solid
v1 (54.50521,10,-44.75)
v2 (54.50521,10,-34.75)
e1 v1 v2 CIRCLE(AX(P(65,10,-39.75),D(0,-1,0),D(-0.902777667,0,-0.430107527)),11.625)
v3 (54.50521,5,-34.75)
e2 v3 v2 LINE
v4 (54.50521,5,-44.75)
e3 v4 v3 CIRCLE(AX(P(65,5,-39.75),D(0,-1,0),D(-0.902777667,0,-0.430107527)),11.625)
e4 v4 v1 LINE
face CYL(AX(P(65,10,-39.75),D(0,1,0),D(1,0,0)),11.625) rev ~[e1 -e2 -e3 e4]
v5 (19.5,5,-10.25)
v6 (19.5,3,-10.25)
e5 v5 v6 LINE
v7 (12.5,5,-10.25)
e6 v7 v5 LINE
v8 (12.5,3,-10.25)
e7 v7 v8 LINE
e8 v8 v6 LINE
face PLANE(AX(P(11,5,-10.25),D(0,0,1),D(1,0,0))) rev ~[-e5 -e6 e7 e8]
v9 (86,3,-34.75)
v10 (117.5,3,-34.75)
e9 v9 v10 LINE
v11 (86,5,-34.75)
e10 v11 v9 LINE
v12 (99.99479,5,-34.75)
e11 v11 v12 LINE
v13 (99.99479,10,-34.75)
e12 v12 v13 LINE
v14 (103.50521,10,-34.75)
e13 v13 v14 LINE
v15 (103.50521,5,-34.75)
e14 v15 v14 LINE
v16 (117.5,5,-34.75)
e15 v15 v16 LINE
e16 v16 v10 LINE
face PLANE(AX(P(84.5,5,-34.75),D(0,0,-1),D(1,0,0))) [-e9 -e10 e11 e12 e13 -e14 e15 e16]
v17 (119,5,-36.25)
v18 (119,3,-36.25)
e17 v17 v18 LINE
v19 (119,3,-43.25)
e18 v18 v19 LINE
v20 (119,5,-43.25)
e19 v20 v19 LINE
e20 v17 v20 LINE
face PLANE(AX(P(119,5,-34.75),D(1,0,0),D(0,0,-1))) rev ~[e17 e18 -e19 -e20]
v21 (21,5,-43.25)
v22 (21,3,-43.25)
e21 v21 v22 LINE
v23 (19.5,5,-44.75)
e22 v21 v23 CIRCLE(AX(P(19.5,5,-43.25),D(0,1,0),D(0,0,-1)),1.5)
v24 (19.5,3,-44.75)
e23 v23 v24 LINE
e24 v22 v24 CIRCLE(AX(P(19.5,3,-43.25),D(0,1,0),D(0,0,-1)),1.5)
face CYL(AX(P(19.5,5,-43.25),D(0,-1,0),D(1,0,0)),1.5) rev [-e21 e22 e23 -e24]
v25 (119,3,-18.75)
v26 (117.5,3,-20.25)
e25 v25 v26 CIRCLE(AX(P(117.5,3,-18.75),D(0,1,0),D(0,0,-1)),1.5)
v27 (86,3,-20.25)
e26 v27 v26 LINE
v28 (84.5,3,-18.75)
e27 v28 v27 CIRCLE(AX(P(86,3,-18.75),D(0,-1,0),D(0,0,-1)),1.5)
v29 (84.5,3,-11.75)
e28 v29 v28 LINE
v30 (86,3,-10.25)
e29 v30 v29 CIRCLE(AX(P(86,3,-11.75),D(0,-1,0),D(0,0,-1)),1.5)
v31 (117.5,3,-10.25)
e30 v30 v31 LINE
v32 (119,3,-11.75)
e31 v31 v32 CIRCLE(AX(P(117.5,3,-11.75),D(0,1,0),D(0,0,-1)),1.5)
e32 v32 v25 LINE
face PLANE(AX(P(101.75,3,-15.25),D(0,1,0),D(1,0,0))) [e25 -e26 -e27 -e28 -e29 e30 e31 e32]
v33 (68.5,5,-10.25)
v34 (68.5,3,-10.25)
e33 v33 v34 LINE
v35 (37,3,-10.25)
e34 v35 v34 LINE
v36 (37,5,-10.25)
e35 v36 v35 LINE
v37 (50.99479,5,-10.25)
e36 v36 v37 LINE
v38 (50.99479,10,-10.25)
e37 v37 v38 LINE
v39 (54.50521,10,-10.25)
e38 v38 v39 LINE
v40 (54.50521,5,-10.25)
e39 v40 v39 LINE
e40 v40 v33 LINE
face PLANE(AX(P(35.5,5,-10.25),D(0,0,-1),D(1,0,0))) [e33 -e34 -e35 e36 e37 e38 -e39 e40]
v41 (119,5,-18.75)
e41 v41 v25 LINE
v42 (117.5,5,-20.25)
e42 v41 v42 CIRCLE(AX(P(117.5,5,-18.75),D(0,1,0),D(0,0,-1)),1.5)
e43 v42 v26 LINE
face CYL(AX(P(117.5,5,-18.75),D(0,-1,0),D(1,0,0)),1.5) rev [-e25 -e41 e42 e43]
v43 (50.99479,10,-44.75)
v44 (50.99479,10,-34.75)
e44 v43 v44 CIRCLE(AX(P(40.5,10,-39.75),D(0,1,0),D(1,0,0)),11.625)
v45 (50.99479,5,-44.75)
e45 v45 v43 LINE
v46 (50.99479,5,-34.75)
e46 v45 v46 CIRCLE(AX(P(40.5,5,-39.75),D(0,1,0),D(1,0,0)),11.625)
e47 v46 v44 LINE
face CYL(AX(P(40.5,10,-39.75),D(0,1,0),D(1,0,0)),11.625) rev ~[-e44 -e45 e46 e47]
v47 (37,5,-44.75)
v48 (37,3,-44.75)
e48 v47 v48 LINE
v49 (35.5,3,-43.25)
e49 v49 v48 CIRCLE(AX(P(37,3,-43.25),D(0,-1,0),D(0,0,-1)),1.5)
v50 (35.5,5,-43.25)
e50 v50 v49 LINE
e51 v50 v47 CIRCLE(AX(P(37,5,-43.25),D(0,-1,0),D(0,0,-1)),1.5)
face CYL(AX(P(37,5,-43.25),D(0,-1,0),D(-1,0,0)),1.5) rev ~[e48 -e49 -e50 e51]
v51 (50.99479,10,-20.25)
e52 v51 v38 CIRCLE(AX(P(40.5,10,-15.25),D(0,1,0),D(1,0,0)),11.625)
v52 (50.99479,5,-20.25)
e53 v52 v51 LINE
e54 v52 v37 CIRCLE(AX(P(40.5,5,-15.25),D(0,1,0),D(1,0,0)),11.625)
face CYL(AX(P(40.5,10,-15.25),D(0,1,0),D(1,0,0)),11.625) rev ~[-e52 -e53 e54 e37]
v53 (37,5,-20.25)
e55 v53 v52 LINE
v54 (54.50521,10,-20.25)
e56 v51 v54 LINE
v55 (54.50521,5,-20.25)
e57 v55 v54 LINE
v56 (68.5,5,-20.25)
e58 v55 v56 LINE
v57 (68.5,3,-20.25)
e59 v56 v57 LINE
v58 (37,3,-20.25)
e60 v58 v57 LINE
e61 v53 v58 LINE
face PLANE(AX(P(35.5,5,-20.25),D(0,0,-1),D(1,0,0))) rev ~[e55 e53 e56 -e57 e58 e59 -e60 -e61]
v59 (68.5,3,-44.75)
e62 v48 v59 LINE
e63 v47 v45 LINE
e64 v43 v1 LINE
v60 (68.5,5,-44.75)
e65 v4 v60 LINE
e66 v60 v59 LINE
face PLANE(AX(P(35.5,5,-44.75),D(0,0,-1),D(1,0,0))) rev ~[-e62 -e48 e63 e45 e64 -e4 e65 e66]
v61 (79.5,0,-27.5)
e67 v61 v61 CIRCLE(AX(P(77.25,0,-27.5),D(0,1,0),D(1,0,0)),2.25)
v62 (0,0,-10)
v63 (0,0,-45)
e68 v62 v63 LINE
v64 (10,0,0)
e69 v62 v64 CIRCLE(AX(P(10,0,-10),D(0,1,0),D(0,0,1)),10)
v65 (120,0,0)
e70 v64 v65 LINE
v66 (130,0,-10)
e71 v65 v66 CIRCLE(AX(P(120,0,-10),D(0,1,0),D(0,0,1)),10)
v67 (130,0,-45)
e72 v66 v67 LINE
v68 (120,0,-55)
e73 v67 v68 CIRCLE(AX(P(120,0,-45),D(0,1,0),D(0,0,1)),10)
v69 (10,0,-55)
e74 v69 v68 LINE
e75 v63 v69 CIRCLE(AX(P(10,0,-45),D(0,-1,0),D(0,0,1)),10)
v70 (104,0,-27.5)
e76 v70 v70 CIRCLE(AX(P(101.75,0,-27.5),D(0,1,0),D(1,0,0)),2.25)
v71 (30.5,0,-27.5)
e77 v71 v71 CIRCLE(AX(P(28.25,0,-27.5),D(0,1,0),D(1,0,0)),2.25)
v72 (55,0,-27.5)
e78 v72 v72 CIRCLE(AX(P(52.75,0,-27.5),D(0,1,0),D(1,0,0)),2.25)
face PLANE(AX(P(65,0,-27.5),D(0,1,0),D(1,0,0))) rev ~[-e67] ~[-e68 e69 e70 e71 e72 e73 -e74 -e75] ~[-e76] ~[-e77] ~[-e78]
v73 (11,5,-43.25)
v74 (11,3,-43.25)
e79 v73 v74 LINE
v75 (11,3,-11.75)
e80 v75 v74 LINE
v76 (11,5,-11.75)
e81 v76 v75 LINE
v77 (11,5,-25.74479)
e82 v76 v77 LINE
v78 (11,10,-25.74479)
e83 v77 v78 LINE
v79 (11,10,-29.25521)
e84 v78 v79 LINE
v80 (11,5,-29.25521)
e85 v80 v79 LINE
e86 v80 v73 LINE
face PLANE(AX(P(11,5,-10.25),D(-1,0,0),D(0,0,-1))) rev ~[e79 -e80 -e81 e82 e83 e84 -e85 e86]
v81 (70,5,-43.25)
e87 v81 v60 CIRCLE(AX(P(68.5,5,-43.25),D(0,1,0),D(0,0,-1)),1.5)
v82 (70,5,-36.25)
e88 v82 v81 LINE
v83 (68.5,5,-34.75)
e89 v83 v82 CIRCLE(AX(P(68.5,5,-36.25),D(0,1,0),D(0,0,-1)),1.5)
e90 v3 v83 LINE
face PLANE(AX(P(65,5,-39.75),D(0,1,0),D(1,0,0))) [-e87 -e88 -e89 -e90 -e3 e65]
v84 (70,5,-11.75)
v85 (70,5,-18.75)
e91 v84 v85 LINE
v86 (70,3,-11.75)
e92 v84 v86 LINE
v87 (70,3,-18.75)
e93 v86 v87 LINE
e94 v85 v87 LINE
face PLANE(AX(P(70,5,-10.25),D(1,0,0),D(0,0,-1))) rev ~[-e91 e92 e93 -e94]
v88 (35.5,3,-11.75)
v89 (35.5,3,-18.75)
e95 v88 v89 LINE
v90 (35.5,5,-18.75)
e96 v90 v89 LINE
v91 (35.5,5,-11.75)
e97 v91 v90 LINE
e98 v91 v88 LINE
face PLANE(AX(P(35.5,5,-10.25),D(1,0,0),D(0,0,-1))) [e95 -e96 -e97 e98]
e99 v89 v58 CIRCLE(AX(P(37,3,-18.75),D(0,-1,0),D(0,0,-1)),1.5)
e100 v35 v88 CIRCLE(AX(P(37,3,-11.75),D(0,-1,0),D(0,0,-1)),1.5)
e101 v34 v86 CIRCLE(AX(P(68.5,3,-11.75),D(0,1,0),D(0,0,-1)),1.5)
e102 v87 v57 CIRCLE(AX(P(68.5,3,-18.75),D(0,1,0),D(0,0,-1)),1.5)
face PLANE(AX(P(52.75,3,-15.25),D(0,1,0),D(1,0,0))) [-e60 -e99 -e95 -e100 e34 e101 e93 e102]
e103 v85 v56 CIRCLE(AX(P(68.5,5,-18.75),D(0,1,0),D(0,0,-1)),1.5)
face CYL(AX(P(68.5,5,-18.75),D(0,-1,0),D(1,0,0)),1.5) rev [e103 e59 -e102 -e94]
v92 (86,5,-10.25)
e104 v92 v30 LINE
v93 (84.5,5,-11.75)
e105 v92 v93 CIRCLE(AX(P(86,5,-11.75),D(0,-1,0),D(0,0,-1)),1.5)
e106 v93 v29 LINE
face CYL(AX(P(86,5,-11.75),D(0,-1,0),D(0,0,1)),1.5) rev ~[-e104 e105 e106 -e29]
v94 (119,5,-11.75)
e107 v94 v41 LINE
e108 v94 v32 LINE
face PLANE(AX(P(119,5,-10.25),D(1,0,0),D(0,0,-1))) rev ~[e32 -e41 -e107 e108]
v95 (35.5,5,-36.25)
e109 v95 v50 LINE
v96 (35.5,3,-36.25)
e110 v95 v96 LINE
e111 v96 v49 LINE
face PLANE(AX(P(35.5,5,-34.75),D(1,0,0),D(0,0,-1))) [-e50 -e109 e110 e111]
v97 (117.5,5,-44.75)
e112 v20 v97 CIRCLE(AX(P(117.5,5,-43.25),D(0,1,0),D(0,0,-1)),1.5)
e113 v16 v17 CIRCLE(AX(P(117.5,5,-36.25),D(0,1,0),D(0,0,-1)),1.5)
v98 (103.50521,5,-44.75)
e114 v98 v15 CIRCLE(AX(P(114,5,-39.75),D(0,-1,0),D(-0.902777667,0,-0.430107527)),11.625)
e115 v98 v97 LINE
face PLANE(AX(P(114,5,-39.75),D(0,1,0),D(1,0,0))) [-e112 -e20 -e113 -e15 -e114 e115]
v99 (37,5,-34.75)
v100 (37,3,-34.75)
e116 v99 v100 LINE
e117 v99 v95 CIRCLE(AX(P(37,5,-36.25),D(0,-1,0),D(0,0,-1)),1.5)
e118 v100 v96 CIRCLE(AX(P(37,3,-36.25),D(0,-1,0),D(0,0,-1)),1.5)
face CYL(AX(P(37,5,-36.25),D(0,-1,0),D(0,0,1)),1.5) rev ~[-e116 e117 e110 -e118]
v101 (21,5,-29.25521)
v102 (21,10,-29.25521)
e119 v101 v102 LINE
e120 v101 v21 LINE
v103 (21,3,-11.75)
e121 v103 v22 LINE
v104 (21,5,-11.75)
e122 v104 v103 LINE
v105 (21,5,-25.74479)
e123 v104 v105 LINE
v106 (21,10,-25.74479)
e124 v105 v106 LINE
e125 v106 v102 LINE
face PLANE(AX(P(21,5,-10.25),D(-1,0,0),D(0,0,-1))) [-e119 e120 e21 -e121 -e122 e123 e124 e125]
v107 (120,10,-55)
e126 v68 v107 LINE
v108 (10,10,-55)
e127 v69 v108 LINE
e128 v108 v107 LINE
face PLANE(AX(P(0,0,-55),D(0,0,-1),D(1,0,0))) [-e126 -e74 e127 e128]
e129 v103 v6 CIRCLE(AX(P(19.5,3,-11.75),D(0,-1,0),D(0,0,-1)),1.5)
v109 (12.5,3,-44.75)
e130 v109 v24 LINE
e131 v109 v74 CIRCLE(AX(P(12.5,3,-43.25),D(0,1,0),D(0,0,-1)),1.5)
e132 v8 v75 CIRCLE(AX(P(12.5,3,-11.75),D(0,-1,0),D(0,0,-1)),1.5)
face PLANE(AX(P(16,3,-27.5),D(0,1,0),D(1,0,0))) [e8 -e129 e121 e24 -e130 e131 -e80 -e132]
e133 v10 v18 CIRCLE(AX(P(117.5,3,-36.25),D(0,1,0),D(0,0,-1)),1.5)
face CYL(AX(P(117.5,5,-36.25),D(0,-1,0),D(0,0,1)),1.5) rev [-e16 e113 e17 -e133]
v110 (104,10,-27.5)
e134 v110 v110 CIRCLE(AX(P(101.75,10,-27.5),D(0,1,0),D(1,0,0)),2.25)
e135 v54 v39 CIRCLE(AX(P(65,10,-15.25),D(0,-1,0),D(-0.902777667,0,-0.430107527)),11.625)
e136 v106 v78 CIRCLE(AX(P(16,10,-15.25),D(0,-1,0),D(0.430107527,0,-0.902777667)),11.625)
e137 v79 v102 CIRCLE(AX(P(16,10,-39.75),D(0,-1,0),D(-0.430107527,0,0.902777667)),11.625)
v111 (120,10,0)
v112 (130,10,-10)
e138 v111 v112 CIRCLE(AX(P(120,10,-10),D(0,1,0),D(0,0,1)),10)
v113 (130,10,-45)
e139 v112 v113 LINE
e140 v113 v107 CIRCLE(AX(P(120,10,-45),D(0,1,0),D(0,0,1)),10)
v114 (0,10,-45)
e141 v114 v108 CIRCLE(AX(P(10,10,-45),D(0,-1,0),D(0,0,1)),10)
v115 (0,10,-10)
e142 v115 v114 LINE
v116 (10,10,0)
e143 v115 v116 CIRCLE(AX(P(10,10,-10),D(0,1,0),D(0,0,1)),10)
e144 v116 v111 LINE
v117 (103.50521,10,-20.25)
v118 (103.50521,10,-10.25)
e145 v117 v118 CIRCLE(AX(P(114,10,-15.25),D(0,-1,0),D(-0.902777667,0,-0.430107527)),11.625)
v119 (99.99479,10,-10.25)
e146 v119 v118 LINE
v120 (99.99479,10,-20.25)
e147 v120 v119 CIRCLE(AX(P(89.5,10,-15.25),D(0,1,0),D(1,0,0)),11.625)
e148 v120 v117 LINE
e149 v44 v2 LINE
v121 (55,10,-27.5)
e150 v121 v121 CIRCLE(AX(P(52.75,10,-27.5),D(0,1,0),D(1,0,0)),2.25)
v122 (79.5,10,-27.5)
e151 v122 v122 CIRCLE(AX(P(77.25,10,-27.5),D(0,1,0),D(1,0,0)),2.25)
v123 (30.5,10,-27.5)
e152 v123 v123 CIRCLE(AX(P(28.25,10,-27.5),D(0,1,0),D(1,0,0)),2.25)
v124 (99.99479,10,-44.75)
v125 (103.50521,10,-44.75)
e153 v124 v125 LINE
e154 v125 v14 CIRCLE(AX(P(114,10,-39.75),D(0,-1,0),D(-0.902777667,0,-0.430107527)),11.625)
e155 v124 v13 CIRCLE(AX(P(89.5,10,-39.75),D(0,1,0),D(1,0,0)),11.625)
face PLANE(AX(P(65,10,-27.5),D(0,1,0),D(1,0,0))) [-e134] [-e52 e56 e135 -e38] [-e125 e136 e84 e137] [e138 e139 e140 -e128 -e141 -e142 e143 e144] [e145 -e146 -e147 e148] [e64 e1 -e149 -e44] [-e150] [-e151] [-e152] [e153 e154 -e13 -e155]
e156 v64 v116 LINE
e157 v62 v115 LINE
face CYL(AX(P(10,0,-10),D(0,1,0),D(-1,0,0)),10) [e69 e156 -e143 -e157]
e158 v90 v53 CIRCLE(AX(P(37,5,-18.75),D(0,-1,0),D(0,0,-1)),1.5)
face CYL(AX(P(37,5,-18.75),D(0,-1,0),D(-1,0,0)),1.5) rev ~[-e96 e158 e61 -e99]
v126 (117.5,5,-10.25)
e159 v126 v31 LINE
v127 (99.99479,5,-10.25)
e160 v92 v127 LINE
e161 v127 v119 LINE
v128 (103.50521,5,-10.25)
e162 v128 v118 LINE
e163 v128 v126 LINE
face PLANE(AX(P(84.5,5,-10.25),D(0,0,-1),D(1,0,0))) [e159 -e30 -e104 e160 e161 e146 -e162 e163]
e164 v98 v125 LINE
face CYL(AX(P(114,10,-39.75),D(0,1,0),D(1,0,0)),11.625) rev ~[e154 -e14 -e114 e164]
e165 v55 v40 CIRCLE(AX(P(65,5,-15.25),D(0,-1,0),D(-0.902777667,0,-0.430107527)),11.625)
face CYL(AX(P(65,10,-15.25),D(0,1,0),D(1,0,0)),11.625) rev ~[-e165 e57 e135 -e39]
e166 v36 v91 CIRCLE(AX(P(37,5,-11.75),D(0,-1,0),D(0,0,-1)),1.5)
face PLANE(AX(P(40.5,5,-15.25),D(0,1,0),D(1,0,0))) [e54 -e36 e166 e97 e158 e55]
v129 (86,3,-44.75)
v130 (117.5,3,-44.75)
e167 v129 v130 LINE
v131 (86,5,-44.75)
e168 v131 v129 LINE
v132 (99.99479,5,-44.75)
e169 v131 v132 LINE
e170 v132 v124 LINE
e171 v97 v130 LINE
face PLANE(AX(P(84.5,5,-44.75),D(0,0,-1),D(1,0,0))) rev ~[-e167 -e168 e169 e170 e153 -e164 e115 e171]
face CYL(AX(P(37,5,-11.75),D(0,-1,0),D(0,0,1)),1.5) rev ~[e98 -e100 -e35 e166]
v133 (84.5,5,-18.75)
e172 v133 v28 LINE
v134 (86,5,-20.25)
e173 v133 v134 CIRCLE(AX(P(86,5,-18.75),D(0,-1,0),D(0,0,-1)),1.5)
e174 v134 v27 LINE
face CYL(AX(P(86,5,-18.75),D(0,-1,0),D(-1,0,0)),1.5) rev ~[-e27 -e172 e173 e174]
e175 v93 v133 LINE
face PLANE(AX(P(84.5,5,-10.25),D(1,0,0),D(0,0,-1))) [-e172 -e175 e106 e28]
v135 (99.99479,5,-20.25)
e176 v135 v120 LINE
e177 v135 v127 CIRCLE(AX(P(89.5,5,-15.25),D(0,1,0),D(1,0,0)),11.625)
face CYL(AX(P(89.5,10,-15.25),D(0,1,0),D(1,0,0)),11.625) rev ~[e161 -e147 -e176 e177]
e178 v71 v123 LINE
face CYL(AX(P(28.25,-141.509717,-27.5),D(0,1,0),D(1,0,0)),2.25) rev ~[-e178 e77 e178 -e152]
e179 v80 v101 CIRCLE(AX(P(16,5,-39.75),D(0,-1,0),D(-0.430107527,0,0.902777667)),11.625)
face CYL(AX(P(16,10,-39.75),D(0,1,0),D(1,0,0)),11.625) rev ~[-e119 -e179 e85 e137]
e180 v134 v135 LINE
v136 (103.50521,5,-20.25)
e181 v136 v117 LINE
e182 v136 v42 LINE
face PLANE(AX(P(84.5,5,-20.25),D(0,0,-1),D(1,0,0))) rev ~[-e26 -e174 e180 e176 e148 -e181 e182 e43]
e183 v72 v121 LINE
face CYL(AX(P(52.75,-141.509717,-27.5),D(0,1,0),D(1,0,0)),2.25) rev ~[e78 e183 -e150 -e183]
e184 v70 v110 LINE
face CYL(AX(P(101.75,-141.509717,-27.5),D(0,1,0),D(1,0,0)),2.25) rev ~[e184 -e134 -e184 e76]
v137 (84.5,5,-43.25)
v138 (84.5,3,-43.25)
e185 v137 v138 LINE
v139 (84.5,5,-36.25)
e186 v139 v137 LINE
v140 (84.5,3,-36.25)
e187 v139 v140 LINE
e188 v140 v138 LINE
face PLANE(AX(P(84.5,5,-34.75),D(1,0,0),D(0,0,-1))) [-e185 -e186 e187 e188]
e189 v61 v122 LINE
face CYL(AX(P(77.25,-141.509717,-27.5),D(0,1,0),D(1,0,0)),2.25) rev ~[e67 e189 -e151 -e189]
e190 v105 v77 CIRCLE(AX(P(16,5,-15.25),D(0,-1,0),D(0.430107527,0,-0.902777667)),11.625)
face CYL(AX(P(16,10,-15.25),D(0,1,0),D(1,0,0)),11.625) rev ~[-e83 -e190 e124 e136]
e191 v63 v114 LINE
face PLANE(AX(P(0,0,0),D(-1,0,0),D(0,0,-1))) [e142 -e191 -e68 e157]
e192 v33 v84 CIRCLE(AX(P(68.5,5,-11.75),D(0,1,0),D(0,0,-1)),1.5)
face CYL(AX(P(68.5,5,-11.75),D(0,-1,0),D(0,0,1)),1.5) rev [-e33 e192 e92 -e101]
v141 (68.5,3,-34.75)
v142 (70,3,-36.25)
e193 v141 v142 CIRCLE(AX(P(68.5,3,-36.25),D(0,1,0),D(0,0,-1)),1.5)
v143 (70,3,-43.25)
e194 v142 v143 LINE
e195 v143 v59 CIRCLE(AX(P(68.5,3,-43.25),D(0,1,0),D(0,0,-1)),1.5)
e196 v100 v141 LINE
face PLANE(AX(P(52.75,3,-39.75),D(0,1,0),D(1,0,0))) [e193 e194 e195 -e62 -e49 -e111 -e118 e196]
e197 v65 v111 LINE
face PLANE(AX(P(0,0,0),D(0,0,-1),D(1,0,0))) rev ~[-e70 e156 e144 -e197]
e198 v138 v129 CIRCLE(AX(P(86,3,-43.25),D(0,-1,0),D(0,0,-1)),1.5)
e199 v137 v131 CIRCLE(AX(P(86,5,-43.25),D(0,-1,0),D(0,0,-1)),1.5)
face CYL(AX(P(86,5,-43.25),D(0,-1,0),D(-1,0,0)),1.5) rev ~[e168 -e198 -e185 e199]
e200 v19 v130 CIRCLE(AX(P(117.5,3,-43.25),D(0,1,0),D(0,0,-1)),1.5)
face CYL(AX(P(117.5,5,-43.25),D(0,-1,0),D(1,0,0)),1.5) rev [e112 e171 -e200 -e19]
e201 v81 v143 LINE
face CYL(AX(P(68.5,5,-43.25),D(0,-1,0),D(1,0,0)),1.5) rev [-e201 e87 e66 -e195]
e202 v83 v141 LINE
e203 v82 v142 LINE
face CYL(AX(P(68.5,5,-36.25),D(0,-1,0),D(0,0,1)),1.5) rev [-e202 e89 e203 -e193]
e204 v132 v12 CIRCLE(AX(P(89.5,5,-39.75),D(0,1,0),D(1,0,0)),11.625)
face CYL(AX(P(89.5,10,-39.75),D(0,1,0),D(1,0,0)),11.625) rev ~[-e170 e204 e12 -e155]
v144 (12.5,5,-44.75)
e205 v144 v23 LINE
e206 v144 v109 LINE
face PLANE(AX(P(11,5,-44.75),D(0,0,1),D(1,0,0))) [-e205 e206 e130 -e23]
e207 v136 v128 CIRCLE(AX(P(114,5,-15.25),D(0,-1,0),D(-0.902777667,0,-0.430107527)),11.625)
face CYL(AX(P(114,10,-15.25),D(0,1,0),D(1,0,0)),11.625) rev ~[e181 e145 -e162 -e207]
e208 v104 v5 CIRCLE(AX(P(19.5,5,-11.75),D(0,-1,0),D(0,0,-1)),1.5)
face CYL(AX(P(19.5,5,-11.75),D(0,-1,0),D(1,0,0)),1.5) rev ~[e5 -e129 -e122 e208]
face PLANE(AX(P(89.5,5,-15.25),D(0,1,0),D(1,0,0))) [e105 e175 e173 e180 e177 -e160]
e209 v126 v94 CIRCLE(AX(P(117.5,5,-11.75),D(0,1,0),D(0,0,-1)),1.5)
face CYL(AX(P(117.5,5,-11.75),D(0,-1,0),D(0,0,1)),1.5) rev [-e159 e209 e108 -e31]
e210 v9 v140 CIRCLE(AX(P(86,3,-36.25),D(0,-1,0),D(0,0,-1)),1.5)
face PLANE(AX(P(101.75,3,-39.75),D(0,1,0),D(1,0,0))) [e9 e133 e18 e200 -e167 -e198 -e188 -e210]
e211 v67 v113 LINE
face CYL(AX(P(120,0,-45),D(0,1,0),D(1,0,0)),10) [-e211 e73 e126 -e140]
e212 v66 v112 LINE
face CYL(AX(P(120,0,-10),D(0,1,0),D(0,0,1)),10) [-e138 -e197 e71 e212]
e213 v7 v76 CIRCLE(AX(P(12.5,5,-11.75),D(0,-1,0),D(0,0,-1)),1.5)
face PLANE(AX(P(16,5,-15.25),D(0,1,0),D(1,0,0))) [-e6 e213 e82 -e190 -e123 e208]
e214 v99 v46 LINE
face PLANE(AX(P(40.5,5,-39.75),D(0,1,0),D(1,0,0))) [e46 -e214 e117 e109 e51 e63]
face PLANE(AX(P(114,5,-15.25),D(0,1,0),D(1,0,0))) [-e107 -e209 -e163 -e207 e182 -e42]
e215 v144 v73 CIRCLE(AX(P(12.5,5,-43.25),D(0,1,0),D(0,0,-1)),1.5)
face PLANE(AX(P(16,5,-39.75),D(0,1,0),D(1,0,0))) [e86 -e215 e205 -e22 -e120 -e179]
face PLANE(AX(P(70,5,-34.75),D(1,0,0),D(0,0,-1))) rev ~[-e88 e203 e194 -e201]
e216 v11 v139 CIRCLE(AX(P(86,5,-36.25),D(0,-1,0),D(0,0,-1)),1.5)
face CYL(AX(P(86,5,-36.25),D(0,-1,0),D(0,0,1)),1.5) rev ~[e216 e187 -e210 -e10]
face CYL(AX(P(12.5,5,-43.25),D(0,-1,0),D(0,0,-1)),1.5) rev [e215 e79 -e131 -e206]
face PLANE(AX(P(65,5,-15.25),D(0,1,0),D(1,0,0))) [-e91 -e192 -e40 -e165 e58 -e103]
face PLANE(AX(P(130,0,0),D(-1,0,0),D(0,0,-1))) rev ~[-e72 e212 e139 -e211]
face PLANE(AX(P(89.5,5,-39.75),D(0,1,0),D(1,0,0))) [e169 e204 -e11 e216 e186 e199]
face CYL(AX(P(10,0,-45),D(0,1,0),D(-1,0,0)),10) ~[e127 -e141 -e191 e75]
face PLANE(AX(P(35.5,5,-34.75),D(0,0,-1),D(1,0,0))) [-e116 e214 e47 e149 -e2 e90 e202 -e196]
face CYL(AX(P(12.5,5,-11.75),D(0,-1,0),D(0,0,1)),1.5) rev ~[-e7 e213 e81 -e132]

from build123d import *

# Parameters (mm, degrees)
SKIZZE1_W                                   = 130
SKIZZE1_H                                   = 55
AUFSATZ_LINEAR_AUSTRAGEN1_DEPTH             = 10
VERRUNDUNG1_R                               = 10
DURCHGANGSLOCH_F_R_M41_D                    = 4.5
SKIZZE3_R                                   = 11.625
SCHNITT_LINEAR_AUSTRAGEN1_DEPTH             = 5
SKIZZE8_W                                   = 34.5
SKIZZE8_H                                   = 10
SKIZZE8_W_2                                 = 10
SKIZZE8_H_2                                 = 34.5
SCHNITT_LINEAR_AUSTRAGEN3_DEPTH             = 2
SCHNITT_LINEAR_AUSTRAGEN3_DIRECTION_2_REACH = 7
VERRUNDUNG3_R                               = 1.5


with BuildPart() as part:
    # Skizze1 → Aufsatz-Linear austragen1 (new body)
    with BuildSketch(Plane(origin=(0, 0, 0), x_dir=(1, 0, 0), z_dir=(0, 1, 0))):
        with Locations((65, 27.5)):
            Rectangle(SKIZZE1_W, SKIZZE1_H)
    extrude(amount=AUFSATZ_LINEAR_AUSTRAGEN1_DEPTH)

    # Verrundung1
    verrundung1_edges = [part.edges().sort_by_distance(p)[0] for p in [
        (0, 5, -55),
        (130, 5, -55),
        (130, 5, 0),
        (0, 5, 0),
    ]]
    fillet(verrundung1_edges, radius=VERRUNDUNG1_R)

    # Durchgangsloch für M41 (through all)
    with Locations(Plane(origin=(0, 0, 0), x_dir=(-1, 0, 0), z_dir=(0, -1, 0))):
        with Locations((-77.25, 27.5), (-52.75, 27.5), (-28.25, 27.5), (-101.75, 27.5)):
            Hole(DURCHGANGSLOCH_F_R_M41_D / 2)

    # Skizze3 → Schnitt-Linear austragen1 (cut)
    with BuildSketch(Plane(origin=(0, 10, 0), x_dir=(1, 0, 0), z_dir=(0, 1, 0))):
        with Locations((16, 15.25)):
            Circle(SKIZZE3_R)
        with Locations((40.5, 15.25)):
            Circle(SKIZZE3_R)
        with Locations((65, 15.25)):
            Circle(SKIZZE3_R)
        with Locations((89.5, 15.25)):
            Circle(SKIZZE3_R)
        with Locations((114, 15.25)):
            Circle(SKIZZE3_R)
        with Locations((40.5, 39.75)):
            Circle(SKIZZE3_R)
        with Locations((65, 39.75)):
            Circle(SKIZZE3_R)
        with Locations((89.5, 39.75)):
            Circle(SKIZZE3_R)
        with Locations((114, 39.75)):
            Circle(SKIZZE3_R)
        with Locations((16, 39.75)):
            Circle(SKIZZE3_R)
    extrude(amount=-SCHNITT_LINEAR_AUSTRAGEN1_DEPTH, mode=Mode.SUBTRACT)

    # Skizze8 → Schnitt-Linear austragen3 (cut)
    with BuildSketch(Plane(origin=(0, 5, 0), x_dir=(1, 0, 0), z_dir=(0, 1, 0))):
        with Locations((101.75, 39.75)):
            Rectangle(SKIZZE8_W, SKIZZE8_H)
        with Locations((101.75, 15.25)):
            Rectangle(SKIZZE8_W, SKIZZE8_H)
        with Locations((52.75, 39.75)):
            Rectangle(SKIZZE8_W, SKIZZE8_H)
        with Locations((52.75, 15.25)):
            Rectangle(SKIZZE8_W, SKIZZE8_H)
        with Locations((16, 27.5)):
            Rectangle(SKIZZE8_W_2, SKIZZE8_H_2)
    extrude(amount=-SCHNITT_LINEAR_AUSTRAGEN3_DEPTH, mode=Mode.SUBTRACT)

    # Skizze8 → Schnitt-Linear austragen3 direction 2 (cut, up to next)
    with BuildSketch(Plane(origin=(0, 5, 0), x_dir=(1, 0, 0), z_dir=(0, 1, 0)), mode=Mode.PRIVATE) as schnitt_linear_austragen3_direction_2_sk1:
        with Locations((101.75, 39.75)):
            Rectangle(SKIZZE8_W, SKIZZE8_H)
    schnitt_linear_austragen3_direction_2_tool1 = extrude(schnitt_linear_austragen3_direction_2_sk1.sketch, amount=SCHNITT_LINEAR_AUSTRAGEN3_DIRECTION_2_REACH, mode=Mode.PRIVATE) & part.part
    add(schnitt_linear_austragen3_direction_2_tool1.solids().sort_by_distance((101.75, 5, -39.75))[0], mode=Mode.SUBTRACT)
    # Skizze8 → Schnitt-Linear austragen3 direction 2 (cut, up to next)
    with BuildSketch(Plane(origin=(0, 5, 0), x_dir=(1, 0, 0), z_dir=(0, 1, 0)), mode=Mode.PRIVATE) as schnitt_linear_austragen3_direction_2_sk2:
        with Locations((101.75, 15.25)):
            Rectangle(SKIZZE8_W, SKIZZE8_H)
    schnitt_linear_austragen3_direction_2_tool2 = extrude(schnitt_linear_austragen3_direction_2_sk2.sketch, amount=SCHNITT_LINEAR_AUSTRAGEN3_DIRECTION_2_REACH, mode=Mode.PRIVATE) & part.part
    add(schnitt_linear_austragen3_direction_2_tool2.solids().sort_by_distance((101.75, 5, -15.25))[0], mode=Mode.SUBTRACT)
    # Skizze8 → Schnitt-Linear austragen3 direction 2 (cut, up to next)
    with BuildSketch(Plane(origin=(0, 5, 0), x_dir=(1, 0, 0), z_dir=(0, 1, 0)), mode=Mode.PRIVATE) as schnitt_linear_austragen3_direction_2_sk3:
        with Locations((52.75, 39.75)):
            Rectangle(SKIZZE8_W, SKIZZE8_H)
    schnitt_linear_austragen3_direction_2_tool3 = extrude(schnitt_linear_austragen3_direction_2_sk3.sketch, amount=SCHNITT_LINEAR_AUSTRAGEN3_DIRECTION_2_REACH, mode=Mode.PRIVATE) & part.part
    add(schnitt_linear_austragen3_direction_2_tool3.solids().sort_by_distance((52.75, 5, -39.75))[0], mode=Mode.SUBTRACT)
    # Skizze8 → Schnitt-Linear austragen3 direction 2 (cut, up to next)
    with BuildSketch(Plane(origin=(0, 5, 0), x_dir=(1, 0, 0), z_dir=(0, 1, 0)), mode=Mode.PRIVATE) as schnitt_linear_austragen3_direction_2_sk4:
        with Locations((52.75, 15.25)):
            Rectangle(SKIZZE8_W, SKIZZE8_H)
    schnitt_linear_austragen3_direction_2_tool4 = extrude(schnitt_linear_austragen3_direction_2_sk4.sketch, amount=SCHNITT_LINEAR_AUSTRAGEN3_DIRECTION_2_REACH, mode=Mode.PRIVATE) & part.part
    add(schnitt_linear_austragen3_direction_2_tool4.solids().sort_by_distance((52.75, 5, -15.25))[0], mode=Mode.SUBTRACT)
    # Skizze8 → Schnitt-Linear austragen3 direction 2 (cut, up to next)
    with BuildSketch(Plane(origin=(0, 5, 0), x_dir=(1, 0, 0), z_dir=(0, 1, 0)), mode=Mode.PRIVATE) as schnitt_linear_austragen3_direction_2_sk5:
        with Locations((16, 27.5)):
            Rectangle(SKIZZE8_W_2, SKIZZE8_H_2)
    schnitt_linear_austragen3_direction_2_tool5 = extrude(schnitt_linear_austragen3_direction_2_sk5.sketch, amount=SCHNITT_LINEAR_AUSTRAGEN3_DIRECTION_2_REACH, mode=Mode.PRIVATE) & part.part
    add(schnitt_linear_austragen3_direction_2_tool5.solids().sort_by_distance((16, 5, -27.5))[0], mode=Mode.SUBTRACT)

    # Verrundung3
    verrundung3_edges = [part.edges().sort_by_distance(p)[0] for p in [
        (21, 4, -44.75),
        (70, 4, -20.25),
        (70, 4, -44.75),
        (119, 4, -44.75),
        (119, 4, -20.25),
        (11, 4, -10.25),
        (35.5, 4, -34.75),
        (84.5, 4, -34.75),
        (84.5, 4, -10.25),
        (35.5, 4, -10.25),
        (21, 4, -10.25),
        (70, 4, -34.75),
        (70, 4, -10.25),
        (119, 4, -34.75),
        (119, 4, -10.25),
        (35.5, 4, -20.25),
        (84.5, 4, -20.25),
        (84.5, 4, -44.75),
        (35.5, 4, -44.75),
        (11, 4, -44.75),
    ]]
    fillet(verrundung3_edges, radius=VERRUNDUNG3_R)


solid = part.part
